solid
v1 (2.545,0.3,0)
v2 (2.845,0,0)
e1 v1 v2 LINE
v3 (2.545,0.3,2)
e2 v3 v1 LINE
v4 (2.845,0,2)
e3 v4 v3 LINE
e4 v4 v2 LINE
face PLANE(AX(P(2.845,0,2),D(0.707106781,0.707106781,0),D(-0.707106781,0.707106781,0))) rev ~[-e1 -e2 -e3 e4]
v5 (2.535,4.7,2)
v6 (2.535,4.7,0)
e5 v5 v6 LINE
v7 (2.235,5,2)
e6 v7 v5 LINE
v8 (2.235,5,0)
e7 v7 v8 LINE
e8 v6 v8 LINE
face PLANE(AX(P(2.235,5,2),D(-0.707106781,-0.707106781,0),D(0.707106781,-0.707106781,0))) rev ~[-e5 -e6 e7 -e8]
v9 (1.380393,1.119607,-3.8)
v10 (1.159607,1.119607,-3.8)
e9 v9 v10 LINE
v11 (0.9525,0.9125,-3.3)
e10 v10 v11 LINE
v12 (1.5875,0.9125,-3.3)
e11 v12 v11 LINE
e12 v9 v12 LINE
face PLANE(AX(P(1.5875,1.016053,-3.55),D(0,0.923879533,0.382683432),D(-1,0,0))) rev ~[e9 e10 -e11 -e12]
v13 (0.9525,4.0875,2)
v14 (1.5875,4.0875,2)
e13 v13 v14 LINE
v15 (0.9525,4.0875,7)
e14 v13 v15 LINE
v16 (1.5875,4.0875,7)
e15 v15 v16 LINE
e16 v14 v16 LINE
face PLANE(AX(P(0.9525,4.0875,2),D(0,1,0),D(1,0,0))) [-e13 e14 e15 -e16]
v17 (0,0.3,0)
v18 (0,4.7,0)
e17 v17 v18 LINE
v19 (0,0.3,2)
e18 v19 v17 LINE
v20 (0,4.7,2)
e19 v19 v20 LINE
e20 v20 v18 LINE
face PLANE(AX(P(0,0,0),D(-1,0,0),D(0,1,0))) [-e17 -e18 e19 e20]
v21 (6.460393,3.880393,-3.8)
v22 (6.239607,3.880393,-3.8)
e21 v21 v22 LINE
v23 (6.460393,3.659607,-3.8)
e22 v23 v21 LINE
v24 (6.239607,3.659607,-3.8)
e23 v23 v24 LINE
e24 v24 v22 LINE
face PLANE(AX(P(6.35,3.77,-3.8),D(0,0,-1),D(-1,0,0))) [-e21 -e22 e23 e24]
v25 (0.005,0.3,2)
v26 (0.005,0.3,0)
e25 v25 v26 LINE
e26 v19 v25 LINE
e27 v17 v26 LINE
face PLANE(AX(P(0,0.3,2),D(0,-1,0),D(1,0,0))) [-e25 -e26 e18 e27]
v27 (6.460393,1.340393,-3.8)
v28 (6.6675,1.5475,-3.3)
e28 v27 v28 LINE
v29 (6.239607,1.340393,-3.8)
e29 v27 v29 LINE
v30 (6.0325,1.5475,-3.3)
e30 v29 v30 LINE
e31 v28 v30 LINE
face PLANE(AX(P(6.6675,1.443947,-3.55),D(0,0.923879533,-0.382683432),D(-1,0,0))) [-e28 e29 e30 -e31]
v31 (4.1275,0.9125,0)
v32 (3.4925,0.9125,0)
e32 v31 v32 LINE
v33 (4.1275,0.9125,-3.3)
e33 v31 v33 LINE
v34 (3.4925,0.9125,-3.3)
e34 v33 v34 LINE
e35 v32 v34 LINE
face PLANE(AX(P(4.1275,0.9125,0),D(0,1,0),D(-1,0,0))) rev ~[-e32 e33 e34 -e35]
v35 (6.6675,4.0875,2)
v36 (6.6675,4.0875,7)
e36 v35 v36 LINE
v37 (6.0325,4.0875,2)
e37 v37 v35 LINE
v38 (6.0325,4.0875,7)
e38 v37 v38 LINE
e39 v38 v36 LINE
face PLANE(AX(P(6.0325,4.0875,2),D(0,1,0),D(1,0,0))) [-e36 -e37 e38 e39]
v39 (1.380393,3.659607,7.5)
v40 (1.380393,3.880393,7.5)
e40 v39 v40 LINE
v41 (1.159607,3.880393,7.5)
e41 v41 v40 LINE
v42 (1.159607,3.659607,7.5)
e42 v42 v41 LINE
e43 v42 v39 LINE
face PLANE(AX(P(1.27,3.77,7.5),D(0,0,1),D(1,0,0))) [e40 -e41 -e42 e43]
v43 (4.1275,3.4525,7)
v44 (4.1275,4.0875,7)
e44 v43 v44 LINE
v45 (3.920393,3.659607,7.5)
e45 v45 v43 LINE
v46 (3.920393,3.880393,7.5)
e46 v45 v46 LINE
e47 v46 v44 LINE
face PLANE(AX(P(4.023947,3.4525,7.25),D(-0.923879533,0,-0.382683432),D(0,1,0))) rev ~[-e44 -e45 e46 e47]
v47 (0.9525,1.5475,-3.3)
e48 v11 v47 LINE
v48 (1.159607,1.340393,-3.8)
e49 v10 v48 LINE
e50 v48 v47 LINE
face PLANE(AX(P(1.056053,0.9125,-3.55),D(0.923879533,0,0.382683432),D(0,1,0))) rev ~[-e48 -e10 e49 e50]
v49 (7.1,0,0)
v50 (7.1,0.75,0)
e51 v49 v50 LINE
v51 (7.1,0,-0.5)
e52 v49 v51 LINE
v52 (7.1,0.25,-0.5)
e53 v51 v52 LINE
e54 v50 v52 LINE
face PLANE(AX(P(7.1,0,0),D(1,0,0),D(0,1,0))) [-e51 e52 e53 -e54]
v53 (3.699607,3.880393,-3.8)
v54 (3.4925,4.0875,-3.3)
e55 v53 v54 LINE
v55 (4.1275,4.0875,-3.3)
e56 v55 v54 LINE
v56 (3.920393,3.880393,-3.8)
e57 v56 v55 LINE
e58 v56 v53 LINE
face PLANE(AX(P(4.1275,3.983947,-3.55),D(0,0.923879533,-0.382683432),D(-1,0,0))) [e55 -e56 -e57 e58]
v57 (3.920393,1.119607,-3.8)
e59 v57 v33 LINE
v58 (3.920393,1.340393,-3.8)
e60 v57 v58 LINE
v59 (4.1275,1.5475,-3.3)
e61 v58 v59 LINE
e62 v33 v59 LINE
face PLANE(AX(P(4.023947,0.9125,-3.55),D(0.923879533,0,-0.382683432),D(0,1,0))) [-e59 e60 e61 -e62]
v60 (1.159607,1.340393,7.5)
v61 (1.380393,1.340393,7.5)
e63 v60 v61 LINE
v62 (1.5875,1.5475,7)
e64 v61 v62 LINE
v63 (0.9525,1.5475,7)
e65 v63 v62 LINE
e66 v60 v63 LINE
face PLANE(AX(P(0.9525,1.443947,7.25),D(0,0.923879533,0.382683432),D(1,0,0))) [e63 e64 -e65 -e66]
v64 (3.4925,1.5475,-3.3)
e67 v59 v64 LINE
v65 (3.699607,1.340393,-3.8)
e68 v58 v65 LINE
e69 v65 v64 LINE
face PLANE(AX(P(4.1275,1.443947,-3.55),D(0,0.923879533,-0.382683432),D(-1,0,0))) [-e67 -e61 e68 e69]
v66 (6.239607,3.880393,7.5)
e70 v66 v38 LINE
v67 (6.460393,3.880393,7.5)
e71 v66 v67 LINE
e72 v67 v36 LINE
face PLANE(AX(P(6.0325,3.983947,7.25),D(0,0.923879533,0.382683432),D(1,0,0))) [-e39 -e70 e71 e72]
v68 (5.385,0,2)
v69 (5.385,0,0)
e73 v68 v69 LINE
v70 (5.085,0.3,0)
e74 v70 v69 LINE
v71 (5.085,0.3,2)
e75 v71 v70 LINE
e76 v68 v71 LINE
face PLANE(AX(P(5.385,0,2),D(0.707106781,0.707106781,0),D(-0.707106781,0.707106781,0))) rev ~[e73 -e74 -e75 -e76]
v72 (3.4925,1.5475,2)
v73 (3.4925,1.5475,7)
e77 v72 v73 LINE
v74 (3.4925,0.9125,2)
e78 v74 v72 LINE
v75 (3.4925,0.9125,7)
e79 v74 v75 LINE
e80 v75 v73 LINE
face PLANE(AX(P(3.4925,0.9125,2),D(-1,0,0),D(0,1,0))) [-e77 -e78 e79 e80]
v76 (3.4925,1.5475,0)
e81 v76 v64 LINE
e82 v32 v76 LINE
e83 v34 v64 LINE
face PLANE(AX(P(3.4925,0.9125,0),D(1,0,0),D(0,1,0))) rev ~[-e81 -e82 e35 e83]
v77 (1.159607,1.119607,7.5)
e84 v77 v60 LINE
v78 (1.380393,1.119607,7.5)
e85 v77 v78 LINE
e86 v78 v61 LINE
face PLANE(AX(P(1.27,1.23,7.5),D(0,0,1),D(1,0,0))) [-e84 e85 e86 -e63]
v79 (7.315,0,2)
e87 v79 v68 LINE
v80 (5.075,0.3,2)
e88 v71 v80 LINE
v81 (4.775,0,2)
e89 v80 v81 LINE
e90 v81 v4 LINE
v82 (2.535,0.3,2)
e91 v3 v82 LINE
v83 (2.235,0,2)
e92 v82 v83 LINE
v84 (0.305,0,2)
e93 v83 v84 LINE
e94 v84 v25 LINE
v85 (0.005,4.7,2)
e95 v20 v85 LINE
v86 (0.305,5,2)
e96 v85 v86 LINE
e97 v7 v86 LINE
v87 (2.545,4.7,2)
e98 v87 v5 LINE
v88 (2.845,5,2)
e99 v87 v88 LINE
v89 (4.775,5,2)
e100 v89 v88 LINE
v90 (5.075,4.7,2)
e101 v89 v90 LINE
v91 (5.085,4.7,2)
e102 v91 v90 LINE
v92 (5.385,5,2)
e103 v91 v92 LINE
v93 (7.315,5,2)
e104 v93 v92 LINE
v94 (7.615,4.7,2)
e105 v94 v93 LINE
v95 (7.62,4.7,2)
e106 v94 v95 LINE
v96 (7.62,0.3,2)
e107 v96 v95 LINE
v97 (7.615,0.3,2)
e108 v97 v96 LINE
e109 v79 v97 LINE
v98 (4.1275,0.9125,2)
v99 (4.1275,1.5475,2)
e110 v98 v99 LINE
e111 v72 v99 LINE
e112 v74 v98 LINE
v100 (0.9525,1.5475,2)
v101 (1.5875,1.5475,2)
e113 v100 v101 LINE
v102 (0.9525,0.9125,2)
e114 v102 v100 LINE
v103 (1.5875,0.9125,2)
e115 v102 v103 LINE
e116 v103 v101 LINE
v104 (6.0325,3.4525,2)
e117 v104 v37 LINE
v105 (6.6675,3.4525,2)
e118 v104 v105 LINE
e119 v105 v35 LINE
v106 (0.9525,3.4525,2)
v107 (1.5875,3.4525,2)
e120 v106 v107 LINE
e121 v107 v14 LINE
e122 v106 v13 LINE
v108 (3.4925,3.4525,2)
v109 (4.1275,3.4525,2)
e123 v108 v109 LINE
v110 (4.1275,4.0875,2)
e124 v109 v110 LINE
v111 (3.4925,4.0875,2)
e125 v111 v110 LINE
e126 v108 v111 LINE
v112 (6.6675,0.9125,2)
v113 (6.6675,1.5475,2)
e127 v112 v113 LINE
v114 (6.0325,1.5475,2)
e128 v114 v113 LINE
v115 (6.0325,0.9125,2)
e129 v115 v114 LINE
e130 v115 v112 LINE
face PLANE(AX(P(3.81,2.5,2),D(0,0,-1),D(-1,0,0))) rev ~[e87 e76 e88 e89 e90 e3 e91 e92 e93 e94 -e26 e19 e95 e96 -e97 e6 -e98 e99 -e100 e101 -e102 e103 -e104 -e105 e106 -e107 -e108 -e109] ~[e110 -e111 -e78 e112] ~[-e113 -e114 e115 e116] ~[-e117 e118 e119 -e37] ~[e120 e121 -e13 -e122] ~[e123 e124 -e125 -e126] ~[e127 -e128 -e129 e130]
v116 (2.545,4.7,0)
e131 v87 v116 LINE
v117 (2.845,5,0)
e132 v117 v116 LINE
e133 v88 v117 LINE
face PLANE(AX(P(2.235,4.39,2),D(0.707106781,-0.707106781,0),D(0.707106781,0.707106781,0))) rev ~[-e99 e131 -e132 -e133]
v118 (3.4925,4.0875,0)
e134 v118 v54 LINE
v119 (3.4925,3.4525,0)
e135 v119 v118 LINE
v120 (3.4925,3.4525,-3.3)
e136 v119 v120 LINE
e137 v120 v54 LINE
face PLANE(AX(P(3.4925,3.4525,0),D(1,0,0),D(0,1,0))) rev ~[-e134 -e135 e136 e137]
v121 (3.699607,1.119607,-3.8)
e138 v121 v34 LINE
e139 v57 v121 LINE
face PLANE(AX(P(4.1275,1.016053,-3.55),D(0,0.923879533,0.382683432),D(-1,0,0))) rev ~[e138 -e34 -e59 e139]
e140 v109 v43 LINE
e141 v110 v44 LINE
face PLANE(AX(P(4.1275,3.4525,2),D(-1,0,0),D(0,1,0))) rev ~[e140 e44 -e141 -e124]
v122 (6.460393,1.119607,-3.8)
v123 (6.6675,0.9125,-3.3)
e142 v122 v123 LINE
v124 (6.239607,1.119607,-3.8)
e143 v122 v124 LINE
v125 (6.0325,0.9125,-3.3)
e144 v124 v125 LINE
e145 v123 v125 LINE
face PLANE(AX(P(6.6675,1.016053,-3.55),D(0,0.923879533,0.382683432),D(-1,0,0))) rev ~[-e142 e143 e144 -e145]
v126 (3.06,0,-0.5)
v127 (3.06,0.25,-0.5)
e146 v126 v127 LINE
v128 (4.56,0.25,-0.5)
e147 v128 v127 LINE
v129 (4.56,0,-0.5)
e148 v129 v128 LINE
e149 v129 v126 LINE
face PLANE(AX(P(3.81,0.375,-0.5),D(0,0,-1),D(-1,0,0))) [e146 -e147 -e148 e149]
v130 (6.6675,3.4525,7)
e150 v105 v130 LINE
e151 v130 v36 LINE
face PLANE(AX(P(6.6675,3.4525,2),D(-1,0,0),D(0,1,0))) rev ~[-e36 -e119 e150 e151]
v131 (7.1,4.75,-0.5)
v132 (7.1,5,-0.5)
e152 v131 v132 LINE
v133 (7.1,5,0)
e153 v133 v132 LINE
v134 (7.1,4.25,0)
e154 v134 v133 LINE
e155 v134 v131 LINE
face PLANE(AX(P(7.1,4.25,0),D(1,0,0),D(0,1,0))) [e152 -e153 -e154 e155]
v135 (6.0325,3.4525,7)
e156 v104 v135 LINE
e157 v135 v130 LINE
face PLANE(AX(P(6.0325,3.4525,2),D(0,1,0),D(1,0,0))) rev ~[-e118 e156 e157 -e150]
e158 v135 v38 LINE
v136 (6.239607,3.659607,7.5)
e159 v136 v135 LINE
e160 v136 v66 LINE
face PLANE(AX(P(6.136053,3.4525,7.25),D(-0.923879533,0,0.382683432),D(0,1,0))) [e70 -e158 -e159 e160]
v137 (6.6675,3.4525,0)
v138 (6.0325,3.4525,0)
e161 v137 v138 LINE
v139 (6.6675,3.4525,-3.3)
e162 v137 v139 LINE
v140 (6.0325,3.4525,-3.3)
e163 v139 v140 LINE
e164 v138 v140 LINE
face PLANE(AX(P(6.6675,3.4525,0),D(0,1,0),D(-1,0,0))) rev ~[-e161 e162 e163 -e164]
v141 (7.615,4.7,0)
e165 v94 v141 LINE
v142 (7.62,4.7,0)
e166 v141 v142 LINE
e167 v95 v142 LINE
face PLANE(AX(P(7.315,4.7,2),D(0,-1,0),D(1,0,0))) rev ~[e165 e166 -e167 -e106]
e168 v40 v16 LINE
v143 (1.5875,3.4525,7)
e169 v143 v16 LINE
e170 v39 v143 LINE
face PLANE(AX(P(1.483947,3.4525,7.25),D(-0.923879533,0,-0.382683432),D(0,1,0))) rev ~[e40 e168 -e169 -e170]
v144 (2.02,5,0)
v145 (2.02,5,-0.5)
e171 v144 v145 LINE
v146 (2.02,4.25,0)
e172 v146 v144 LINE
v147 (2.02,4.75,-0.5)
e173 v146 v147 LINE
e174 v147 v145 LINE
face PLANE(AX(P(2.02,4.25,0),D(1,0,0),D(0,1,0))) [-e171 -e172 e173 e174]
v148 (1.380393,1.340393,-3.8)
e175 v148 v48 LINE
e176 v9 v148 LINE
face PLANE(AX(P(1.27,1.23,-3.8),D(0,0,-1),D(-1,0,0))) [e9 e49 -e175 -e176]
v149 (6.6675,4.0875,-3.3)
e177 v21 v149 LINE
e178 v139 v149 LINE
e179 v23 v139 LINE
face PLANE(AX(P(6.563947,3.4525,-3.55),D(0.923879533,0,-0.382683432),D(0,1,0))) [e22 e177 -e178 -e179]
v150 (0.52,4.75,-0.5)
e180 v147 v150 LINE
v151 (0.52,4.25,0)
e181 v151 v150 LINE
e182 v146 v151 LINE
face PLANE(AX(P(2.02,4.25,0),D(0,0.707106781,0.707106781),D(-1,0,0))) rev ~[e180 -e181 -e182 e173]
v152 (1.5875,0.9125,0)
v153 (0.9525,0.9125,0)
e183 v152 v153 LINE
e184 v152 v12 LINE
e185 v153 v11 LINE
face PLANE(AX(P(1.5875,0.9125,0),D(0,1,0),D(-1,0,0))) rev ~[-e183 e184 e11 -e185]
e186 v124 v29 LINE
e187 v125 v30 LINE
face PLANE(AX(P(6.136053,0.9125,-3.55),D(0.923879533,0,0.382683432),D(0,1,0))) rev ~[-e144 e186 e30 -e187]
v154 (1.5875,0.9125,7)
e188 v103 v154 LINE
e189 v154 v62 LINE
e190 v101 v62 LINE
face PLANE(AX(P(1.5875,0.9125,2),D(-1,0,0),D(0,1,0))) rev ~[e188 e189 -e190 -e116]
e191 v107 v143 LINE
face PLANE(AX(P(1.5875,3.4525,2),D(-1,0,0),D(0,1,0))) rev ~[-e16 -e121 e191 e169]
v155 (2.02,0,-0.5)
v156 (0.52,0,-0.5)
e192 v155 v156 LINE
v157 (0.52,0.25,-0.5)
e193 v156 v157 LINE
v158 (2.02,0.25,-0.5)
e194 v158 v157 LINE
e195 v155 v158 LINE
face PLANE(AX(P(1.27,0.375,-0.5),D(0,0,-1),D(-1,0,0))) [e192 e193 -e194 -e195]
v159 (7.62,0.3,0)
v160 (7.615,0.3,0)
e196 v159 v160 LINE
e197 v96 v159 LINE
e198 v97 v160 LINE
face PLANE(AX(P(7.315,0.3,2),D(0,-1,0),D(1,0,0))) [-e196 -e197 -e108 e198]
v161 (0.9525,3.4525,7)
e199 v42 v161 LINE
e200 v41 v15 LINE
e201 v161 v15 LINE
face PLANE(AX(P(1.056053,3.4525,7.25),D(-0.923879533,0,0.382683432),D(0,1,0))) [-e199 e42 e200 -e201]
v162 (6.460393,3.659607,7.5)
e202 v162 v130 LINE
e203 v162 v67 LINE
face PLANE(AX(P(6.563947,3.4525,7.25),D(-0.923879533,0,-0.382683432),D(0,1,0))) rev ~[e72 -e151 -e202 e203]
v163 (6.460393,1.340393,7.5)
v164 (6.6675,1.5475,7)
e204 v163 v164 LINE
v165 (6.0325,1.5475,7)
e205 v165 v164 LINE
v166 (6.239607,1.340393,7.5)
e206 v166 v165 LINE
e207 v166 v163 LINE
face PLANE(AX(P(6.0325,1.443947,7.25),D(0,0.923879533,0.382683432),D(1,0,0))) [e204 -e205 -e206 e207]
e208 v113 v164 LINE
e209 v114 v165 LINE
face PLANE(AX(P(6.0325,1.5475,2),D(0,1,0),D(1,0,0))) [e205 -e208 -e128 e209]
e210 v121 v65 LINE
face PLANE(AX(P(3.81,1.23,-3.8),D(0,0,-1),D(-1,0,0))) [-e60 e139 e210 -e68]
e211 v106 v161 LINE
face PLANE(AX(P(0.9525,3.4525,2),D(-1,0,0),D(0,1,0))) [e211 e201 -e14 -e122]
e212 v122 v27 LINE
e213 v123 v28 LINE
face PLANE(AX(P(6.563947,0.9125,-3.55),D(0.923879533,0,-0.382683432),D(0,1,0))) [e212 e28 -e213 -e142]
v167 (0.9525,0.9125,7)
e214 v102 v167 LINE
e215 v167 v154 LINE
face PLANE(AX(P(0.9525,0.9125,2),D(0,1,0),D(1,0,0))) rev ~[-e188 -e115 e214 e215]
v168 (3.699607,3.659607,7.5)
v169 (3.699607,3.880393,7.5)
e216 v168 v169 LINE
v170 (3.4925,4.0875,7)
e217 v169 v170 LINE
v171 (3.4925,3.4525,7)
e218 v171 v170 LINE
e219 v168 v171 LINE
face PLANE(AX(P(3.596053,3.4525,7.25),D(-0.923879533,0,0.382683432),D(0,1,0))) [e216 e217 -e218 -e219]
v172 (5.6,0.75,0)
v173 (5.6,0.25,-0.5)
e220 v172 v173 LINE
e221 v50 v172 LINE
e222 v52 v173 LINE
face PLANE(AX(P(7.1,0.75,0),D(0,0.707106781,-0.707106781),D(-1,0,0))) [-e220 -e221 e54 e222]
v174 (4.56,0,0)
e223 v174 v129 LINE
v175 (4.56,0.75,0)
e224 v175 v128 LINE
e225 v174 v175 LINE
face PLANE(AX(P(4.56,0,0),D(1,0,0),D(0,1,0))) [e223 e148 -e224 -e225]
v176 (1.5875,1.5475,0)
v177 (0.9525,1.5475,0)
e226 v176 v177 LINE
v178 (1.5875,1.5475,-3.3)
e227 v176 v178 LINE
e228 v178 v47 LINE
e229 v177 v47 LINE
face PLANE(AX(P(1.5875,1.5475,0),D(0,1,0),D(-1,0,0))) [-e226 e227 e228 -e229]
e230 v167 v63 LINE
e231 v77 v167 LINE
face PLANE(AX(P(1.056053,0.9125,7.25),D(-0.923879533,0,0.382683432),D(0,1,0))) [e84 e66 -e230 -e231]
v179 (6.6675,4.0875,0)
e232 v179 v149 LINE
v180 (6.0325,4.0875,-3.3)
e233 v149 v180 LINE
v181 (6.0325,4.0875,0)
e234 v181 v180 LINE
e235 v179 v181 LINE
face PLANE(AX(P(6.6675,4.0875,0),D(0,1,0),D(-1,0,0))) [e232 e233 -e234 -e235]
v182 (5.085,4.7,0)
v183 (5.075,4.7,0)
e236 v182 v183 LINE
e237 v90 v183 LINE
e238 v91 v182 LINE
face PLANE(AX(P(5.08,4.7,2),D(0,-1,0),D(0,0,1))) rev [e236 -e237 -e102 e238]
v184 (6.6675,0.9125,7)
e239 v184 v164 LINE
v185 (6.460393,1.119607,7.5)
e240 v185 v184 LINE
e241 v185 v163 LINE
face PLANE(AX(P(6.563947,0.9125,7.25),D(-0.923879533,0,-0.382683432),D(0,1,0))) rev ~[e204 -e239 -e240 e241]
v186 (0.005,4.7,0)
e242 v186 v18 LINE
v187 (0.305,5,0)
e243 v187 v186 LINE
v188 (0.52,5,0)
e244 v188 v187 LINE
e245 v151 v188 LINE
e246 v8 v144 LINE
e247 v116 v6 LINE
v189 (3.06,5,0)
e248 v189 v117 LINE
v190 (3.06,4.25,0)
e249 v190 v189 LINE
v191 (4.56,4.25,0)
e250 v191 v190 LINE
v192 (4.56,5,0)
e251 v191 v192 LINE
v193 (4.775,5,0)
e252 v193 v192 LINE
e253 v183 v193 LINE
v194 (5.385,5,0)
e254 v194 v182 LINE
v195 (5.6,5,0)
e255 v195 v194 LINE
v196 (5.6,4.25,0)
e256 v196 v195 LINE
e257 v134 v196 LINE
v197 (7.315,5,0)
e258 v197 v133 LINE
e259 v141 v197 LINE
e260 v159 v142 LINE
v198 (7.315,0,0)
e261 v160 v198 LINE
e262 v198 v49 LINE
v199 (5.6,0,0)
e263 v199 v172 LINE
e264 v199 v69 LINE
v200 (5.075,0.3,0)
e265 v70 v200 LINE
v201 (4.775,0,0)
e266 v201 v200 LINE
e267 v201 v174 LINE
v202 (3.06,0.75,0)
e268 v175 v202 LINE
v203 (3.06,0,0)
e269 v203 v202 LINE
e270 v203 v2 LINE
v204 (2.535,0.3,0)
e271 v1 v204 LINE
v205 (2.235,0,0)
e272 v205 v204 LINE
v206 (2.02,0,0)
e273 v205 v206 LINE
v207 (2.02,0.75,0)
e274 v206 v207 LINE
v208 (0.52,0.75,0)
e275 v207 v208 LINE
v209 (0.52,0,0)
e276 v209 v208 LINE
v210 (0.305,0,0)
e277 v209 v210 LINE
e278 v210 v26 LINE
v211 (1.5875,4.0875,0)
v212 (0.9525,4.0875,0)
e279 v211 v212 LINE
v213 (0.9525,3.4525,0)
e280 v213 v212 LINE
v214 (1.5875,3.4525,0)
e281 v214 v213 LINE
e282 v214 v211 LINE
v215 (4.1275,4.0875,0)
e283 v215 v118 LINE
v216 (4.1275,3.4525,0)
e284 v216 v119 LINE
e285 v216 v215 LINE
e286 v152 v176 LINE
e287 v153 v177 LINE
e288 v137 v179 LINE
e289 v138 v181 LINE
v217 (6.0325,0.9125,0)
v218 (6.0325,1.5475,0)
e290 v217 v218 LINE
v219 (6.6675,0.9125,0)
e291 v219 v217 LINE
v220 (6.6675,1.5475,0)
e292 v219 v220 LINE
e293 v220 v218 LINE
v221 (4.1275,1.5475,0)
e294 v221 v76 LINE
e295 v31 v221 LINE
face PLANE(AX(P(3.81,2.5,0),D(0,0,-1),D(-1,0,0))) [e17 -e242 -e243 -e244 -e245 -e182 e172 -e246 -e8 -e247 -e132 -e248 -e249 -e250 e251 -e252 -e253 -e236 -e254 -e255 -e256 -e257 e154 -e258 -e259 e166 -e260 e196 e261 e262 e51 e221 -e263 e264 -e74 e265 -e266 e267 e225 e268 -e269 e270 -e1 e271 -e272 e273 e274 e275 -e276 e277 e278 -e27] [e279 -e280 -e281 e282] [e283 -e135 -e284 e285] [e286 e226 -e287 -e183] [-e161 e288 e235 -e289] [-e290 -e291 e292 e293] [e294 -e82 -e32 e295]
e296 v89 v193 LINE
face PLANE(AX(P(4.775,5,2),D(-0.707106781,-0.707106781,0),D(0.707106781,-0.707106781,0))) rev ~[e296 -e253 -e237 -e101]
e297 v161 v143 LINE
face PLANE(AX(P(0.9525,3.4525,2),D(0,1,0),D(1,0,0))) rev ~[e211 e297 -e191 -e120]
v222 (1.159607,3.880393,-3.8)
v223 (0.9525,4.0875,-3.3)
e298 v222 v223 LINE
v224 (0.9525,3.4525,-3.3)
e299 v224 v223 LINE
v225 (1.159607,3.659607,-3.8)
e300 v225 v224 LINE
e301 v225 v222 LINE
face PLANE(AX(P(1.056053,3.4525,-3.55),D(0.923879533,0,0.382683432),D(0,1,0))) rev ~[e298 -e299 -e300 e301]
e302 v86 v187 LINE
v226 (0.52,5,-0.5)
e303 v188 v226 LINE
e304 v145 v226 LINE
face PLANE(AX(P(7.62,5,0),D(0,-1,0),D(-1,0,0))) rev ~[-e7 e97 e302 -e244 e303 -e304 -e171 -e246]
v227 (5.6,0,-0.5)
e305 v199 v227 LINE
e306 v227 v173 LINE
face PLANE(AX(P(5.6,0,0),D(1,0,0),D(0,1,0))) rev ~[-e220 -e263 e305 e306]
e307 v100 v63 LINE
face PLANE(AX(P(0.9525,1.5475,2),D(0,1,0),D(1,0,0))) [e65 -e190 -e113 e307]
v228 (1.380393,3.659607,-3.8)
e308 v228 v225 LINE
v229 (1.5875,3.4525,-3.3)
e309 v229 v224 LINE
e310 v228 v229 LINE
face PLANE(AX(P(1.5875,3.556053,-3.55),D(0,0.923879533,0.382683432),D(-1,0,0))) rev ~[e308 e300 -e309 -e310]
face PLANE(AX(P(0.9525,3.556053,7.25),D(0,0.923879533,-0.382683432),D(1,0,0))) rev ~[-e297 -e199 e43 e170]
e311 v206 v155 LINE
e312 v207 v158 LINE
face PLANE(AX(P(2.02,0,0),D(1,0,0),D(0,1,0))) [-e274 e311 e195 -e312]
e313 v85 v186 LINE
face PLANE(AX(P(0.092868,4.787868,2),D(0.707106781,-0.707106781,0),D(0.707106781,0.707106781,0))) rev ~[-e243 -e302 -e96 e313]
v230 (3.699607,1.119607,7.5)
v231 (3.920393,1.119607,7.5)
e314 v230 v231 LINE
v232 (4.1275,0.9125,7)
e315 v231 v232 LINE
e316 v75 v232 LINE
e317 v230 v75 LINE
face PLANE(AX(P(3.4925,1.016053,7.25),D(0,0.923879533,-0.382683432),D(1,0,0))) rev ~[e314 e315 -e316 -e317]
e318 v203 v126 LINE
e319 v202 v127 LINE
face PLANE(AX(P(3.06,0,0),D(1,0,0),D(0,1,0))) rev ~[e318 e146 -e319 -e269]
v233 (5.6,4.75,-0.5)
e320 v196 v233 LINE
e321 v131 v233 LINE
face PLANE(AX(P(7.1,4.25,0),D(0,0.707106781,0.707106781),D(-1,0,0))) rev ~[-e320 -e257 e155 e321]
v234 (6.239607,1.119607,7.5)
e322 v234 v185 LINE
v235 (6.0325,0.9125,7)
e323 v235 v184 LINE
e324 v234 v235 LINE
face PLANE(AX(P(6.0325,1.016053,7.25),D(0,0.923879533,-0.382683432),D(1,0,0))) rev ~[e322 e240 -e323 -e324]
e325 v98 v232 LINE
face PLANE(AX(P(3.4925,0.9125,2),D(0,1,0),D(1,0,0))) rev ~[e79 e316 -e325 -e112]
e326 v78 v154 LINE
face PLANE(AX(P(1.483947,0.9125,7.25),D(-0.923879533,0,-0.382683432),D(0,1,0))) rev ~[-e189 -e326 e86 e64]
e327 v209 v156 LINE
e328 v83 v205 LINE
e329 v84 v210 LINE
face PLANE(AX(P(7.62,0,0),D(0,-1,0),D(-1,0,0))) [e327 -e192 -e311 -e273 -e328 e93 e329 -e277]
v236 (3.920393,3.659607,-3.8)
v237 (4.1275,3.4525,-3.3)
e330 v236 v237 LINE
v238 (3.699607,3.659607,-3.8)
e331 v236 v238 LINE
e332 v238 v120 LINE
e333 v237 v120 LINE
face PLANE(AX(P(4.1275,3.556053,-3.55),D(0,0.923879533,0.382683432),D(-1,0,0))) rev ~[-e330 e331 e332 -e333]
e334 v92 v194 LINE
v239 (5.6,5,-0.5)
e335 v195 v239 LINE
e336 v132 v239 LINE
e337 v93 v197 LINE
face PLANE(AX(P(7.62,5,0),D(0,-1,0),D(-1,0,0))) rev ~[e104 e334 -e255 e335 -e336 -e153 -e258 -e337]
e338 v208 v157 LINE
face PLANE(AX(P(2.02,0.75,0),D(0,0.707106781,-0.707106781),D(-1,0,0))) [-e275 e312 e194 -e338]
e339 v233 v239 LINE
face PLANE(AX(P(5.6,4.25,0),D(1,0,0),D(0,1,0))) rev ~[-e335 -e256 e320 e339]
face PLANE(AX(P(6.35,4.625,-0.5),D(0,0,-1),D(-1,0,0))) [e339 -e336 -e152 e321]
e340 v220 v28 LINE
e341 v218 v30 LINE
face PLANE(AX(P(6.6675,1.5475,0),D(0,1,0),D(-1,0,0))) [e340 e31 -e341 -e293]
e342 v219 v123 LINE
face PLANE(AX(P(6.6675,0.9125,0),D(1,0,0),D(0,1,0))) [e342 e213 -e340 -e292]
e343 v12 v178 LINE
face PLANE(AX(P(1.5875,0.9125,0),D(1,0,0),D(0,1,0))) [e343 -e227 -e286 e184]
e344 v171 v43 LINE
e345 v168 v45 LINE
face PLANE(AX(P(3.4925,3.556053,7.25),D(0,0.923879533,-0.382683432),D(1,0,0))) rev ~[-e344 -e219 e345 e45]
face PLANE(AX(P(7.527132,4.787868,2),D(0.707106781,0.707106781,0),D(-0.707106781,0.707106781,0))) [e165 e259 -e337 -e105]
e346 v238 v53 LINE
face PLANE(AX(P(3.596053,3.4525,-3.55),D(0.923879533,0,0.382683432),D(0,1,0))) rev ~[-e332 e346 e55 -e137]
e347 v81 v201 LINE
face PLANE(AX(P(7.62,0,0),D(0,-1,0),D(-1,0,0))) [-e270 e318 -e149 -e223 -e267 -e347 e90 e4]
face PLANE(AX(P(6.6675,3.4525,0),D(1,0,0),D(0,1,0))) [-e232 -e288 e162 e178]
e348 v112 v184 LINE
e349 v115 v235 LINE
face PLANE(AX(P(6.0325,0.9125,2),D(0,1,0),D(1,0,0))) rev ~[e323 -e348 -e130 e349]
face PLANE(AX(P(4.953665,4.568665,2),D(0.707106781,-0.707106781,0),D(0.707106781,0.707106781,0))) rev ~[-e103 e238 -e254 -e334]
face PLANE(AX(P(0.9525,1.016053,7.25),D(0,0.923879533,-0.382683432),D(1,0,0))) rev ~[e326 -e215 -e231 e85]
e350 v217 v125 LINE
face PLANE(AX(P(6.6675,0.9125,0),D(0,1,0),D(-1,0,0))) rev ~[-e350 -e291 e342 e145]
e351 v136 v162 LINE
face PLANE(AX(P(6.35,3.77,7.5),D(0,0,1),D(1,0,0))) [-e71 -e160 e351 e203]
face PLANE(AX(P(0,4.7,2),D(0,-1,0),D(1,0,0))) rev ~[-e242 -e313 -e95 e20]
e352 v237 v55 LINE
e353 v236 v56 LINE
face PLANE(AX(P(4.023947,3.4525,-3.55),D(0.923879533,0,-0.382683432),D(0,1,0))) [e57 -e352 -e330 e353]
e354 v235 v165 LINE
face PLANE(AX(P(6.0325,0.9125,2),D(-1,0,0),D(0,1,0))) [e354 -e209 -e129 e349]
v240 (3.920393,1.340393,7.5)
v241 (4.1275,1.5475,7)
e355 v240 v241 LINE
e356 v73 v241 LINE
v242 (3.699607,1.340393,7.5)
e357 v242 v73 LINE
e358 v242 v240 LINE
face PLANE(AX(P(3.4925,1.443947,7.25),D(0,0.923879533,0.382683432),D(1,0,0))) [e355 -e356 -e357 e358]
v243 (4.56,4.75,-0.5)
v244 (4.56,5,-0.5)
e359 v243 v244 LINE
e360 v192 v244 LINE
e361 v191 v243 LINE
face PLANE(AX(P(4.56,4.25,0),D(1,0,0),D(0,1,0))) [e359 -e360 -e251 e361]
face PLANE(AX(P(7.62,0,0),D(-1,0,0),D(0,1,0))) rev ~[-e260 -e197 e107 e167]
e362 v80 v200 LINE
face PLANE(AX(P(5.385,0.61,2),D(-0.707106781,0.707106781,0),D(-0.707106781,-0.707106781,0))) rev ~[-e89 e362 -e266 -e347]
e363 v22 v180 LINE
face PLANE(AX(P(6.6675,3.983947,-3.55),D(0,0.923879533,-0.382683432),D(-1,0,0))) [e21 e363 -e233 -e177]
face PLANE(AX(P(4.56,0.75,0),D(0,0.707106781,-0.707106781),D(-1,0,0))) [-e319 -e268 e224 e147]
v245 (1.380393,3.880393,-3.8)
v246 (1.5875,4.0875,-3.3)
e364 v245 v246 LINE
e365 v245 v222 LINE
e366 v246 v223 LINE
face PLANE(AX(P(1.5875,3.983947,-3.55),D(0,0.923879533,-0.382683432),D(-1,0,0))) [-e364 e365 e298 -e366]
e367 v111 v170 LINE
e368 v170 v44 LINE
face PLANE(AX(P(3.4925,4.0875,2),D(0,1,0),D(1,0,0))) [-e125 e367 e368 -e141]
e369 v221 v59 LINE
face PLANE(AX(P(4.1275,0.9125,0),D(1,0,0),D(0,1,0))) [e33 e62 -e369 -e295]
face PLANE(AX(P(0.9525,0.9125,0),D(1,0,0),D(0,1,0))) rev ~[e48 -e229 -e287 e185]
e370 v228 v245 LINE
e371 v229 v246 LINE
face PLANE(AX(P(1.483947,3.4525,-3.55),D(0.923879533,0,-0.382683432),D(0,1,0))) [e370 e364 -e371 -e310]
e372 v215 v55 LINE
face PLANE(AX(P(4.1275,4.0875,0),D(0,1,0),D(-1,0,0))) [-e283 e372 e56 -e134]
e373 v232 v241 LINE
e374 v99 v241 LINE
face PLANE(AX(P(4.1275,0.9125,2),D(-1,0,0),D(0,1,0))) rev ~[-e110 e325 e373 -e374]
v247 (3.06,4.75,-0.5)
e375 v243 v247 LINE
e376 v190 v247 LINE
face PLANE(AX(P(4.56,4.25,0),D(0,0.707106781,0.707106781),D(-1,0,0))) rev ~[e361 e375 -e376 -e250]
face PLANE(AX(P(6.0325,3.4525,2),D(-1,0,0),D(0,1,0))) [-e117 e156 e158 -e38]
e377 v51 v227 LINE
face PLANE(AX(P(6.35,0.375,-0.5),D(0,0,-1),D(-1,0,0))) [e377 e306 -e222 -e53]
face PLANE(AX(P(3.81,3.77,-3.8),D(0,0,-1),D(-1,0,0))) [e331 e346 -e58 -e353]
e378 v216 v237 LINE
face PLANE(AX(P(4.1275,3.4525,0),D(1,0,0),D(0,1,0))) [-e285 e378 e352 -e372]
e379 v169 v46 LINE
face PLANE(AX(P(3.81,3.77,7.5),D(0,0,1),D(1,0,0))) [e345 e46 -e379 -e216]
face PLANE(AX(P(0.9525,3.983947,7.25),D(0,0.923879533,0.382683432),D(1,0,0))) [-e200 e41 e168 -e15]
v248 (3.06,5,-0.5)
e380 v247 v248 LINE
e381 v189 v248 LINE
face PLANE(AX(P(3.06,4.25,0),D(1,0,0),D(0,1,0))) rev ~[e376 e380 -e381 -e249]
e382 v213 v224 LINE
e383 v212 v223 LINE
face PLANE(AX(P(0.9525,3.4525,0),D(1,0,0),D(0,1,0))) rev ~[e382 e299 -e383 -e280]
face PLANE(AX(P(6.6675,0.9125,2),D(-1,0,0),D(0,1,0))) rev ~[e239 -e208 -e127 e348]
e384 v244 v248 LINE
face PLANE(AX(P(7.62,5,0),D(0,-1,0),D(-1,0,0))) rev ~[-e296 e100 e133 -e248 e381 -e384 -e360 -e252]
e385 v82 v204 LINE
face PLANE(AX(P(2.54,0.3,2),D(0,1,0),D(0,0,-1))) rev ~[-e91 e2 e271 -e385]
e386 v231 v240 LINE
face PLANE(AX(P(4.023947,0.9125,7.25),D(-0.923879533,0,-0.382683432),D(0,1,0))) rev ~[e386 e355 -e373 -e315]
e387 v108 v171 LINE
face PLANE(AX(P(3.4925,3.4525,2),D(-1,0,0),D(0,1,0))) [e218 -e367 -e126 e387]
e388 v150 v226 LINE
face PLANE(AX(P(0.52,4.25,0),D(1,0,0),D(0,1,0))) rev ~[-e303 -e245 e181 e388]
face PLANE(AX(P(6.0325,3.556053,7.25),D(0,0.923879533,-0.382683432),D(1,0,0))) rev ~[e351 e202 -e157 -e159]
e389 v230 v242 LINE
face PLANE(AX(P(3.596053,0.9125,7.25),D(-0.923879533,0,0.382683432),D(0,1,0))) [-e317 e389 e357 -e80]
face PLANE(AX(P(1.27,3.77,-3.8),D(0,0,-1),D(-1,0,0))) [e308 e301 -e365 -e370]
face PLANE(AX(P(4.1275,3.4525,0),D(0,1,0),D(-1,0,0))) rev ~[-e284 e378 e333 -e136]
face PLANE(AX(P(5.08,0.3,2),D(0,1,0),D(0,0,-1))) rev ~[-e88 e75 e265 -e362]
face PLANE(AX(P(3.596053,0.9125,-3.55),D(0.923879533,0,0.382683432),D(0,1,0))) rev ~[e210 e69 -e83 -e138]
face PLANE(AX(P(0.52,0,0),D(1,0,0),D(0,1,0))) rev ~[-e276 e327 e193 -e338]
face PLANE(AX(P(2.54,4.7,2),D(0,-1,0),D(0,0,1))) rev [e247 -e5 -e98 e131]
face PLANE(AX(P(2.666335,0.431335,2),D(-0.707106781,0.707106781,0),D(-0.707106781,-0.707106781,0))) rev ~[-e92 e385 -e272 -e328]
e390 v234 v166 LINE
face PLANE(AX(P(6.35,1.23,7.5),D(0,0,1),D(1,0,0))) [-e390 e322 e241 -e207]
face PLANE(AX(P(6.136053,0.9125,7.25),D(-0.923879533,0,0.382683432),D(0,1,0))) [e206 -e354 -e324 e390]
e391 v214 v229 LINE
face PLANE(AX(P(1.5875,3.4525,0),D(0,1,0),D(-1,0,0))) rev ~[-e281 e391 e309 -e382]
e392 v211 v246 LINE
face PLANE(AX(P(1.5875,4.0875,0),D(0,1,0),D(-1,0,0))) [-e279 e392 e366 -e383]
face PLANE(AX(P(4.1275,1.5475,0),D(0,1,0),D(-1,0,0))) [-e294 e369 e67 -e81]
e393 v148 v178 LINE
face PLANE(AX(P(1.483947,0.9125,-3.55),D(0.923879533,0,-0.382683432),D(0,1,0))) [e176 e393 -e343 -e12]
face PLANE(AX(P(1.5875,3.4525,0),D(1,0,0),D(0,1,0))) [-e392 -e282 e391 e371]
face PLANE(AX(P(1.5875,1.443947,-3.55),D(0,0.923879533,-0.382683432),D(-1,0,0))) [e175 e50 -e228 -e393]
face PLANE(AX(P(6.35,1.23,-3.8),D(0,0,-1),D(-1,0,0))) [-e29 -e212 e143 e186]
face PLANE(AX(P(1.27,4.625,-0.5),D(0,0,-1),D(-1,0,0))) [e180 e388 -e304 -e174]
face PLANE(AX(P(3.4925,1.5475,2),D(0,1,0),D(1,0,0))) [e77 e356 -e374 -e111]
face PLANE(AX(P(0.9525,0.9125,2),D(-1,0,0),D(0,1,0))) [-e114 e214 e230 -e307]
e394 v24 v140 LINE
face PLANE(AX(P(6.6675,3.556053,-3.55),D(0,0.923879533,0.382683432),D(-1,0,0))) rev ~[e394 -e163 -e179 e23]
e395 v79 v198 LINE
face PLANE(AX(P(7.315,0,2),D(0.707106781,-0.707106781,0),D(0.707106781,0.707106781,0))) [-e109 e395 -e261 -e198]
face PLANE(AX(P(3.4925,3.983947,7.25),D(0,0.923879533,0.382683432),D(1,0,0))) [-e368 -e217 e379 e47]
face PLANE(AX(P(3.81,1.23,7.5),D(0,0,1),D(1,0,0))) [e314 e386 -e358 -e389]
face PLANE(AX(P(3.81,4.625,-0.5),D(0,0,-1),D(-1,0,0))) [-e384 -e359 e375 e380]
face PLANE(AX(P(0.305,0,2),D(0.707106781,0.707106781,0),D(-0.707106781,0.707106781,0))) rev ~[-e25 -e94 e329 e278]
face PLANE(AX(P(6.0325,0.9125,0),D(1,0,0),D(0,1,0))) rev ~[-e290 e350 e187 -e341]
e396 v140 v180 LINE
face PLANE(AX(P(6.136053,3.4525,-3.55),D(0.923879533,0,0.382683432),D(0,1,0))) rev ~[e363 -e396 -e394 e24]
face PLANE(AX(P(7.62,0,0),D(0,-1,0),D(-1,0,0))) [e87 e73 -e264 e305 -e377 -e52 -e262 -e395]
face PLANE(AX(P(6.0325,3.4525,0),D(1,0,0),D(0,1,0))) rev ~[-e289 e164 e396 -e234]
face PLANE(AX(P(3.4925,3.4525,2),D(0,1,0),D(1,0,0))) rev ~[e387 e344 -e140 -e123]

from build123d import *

# Parameters (mm, degrees)
SKETCH1_W              = 7.62
SKETCH1_H              = 5
BOSS_EXTRUDE1_DEPTH    = 2
SKETCH2_W              = 0.305
SKETCH2_H              = 0.3
CUT_EXTRUDE1_DEPTH     = 3
CUT_EXTRUDE2_DEPTH     = 3
CUT_EXTRUDE3_DEPTH     = 3
SKETCH5_W              = 0.305
SKETCH5_H              = 0.3
CUT_EXTRUDE4_DEPTH     = 2
SKETCH6_W              = 0.305
SKETCH6_H              = 0.3
CUT_EXTRUDE5_DEPTH     = 3
CUT_EXTRUDE6_DEPTH     = 3
CUT_EXTRUDE7_DEPTH     = 3
SKETCH9_W              = 0.305
SKETCH9_H              = 0.3
CUT_EXTRUDE8_DEPTH     = 2
SKETCH10_W             = 0.635
SKETCH10_H             = 0.635
BOSS_EXTRUDE2_DEPTH    = 3.8
SKETCH11_W             = 0.635
SKETCH11_H             = 0.635
BOSS_EXTRUDE3_DEPTH    = 3.8
SKETCH12_W             = 0.635
SKETCH12_H             = 0.635
BOSS_EXTRUDE4_DEPTH    = 3.8
SKETCH13_W             = 0.635
SKETCH13_H             = 0.635
BOSS_EXTRUDE5_DEPTH    = 3.8
SKETCH14_W             = 0.635
SKETCH14_H             = 0.635
BOSS_EXTRUDE6_DEPTH    = 3.8
SKETCH15_W             = 1.5
SKETCH15_H             = 0.75
BOSS_EXTRUDE7_DEPTH    = 0.5
SKETCH16_W             = 1.5
SKETCH16_H             = 0.75
BOSS_EXTRUDE8_DEPTH    = 0.5
SKETCH17_W             = 1.5
SKETCH17_H             = 0.75
BOSS_EXTRUDE9_DEPTH    = 0.5
SKETCH18_W             = 1.5
SKETCH18_H             = 0.75
BOSS_EXTRUDE10_DEPTH   = 0.5
SKETCH19_W             = 1.5
SKETCH19_H             = 0.75
BOSS_EXTRUDE11_DEPTH   = 0.5
SKETCH20_W             = 1.5
SKETCH20_H             = 0.75
BOSS_EXTRUDE12_DEPTH   = 0.5
SKETCH21_W             = 0.635
SKETCH21_H             = 0.635
BOSS_EXTRUDE13_DEPTH   = 3.8
SKETCH22_W             = 0.635
SKETCH22_H             = 0.635
BOSS_EXTRUDE14_DEPTH   = 5.5
SKETCH23_W             = 0.635
SKETCH23_H             = 0.635
BOSS_EXTRUDE15_DEPTH   = 5.5
SKETCH24_W             = 0.635
SKETCH24_H             = 0.635
BOSS_EXTRUDE16_DEPTH   = 5.5
SKETCH25_W             = 0.635
SKETCH25_H             = 0.635
BOSS_EXTRUDE17_DEPTH   = 5.5
SKETCH26_W             = 0.635
SKETCH26_H             = 0.635
BOSS_EXTRUDE18_DEPTH   = 5.5
SKETCH27_W             = 0.635
SKETCH27_H             = 0.635
BOSS_EXTRUDE19_DEPTH   = 5.5
DRAFT1_ANGLE           = 45
DRAFT2_ANGLE           = 45
DRAFT3_ANGLE           = 45
DRAFT4_ANGLE           = 45
DRAFT5_ANGLE           = 45
CHAMFER1_SIZE          = 0.007071068
CHAMFER2_SIZE          = 0.207106781
CHAMFER2_SIZE2         = 0.5
CHAMFER2_PART_2_SIZE   = 0.207106781
CHAMFER2_PART_2_SIZE2  = 0.5
CHAMFER2_PART_3_SIZE   = 0.207106781
CHAMFER2_PART_3_SIZE2  = 0.5
CHAMFER2_PART_4_SIZE   = 0.207106781
CHAMFER2_PART_4_SIZE2  = 0.5
CHAMFER2_PART_5_SIZE   = 0.207106781
CHAMFER2_PART_5_SIZE2  = 0.5
CHAMFER2_PART_6_SIZE   = 0.207106781
CHAMFER2_PART_6_SIZE2  = 0.5
CHAMFER2_PART_7_SIZE   = 0.207106781
CHAMFER2_PART_7_SIZE2  = 0.5
CHAMFER2_PART_8_SIZE   = 0.207106781
CHAMFER2_PART_8_SIZE2  = 0.5
CHAMFER2_PART_9_SIZE   = 0.207106781
CHAMFER2_PART_9_SIZE2  = 0.5
CHAMFER2_PART_10_SIZE  = 0.207106781
CHAMFER2_PART_10_SIZE2 = 0.5
CHAMFER2_PART_11_SIZE  = 0.207106781
CHAMFER2_PART_11_SIZE2 = 0.5
CHAMFER2_PART_12_SIZE  = 0.207106781
CHAMFER2_PART_12_SIZE2 = 0.5


with BuildPart() as part:
    # Sketch1 → Boss-Extrude1 (new body)
    with BuildSketch(Plane(origin=(0, 0, 0), x_dir=(-1, 0, 0), z_dir=(0, 0, -1))):
        with Locations((-3.81, 2.5)):
            Rectangle(SKETCH1_W, SKETCH1_H)
    extrude(amount=-BOSS_EXTRUDE1_DEPTH)

    # Sketch2 → Cut-Extrude1 (cut, through all)
    with BuildSketch(Plane.XY.offset(2)):
        with Locations((7.4675, 0.15)):
            Rectangle(SKETCH2_W, SKETCH2_H)
    extrude(amount=-CUT_EXTRUDE1_DEPTH, mode=Mode.SUBTRACT)

    # Sketch3 → Cut-Extrude2 (cut, through all)
    with BuildSketch(Plane.XY.offset(2)):
        Polygon((4.775, 0), (5.385, 0), (5.385, 0.61), align=None)
    extrude(amount=-CUT_EXTRUDE2_DEPTH, mode=Mode.SUBTRACT)

    # Sketch4 → Cut-Extrude3 (cut, through all)
    with BuildSketch(Plane.XY.offset(2)):
        Polygon((2.235, 0), (2.845, 0), (2.235, 0.61), align=None)
    extrude(amount=-CUT_EXTRUDE3_DEPTH, mode=Mode.SUBTRACT)

    # Sketch5 → Cut-Extrude4 (cut)
    with BuildSketch(Plane.XY.offset(2)):
        with Locations((0.1525, 0.15)):
            Rectangle(SKETCH5_W, SKETCH5_H)
    extrude(amount=-CUT_EXTRUDE4_DEPTH, mode=Mode.SUBTRACT)

    # Sketch6 → Cut-Extrude5 (cut, through all)
    with BuildSketch(Plane.XY.offset(2)):
        with Locations((0.1525, 4.85)):
            Rectangle(SKETCH6_W, SKETCH6_H)
    extrude(amount=-CUT_EXTRUDE5_DEPTH, mode=Mode.SUBTRACT)

    # Sketch7 → Cut-Extrude6 (cut, through all)
    with BuildSketch(Plane.XY.offset(2)):
        Polygon((2.845, 5), (2.235, 5), (2.235, 4.39), align=None)
    extrude(amount=-CUT_EXTRUDE6_DEPTH, mode=Mode.SUBTRACT)

    # Sketch8 → Cut-Extrude7 (cut, through all)
    with BuildSketch(Plane.XY.offset(2)):
        Polygon((5.385, 5), (4.775, 5), (5.385, 4.39), align=None)
    extrude(amount=-CUT_EXTRUDE7_DEPTH, mode=Mode.SUBTRACT)

    # Sketch9 → Cut-Extrude8 (cut)
    with BuildSketch(Plane.XY.offset(2)):
        with Locations((7.4675, 4.85)):
            Rectangle(SKETCH9_W, SKETCH9_H)
    extrude(amount=-CUT_EXTRUDE8_DEPTH, mode=Mode.SUBTRACT)

    # Sketch10 → Boss-Extrude2 (add)
    with BuildSketch(Plane(origin=(0, 0, 0), x_dir=(-1, 0, 0), z_dir=(0, 0, -1))):
        with Locations((-6.35, 3.77)):
            Rectangle(SKETCH10_W, SKETCH10_H)
    extrude(amount=BOSS_EXTRUDE2_DEPTH)

    # Sketch11 → Boss-Extrude3 (add)
    with BuildSketch(Plane(origin=(0, 0, 0), x_dir=(-1, 0, 0), z_dir=(0, 0, -1))):
        with Locations((-6.35, 1.23)):
            Rectangle(SKETCH11_W, SKETCH11_H)
    extrude(amount=BOSS_EXTRUDE3_DEPTH)

    # Sketch12 → Boss-Extrude4 (add)
    with BuildSketch(Plane(origin=(0, 0, 0), x_dir=(-1, 0, 0), z_dir=(0, 0, -1))):
        with Locations((-3.81, 3.77)):
            Rectangle(SKETCH12_W, SKETCH12_H)
    extrude(amount=BOSS_EXTRUDE4_DEPTH)

    # Sketch13 → Boss-Extrude5 (add)
    with BuildSketch(Plane(origin=(0, 0, 0), x_dir=(-1, 0, 0), z_dir=(0, 0, -1))):
        with Locations((-3.81, 1.23)):
            Rectangle(SKETCH13_W, SKETCH13_H)
    extrude(amount=BOSS_EXTRUDE5_DEPTH)

    # Sketch14 → Boss-Extrude6 (add)
    with BuildSketch(Plane(origin=(0, 0, 0), x_dir=(-1, 0, 0), z_dir=(0, 0, -1))):
        with Locations((-1.27, 3.77)):
            Rectangle(SKETCH14_W, SKETCH14_H)
    extrude(amount=BOSS_EXTRUDE6_DEPTH)

    # Sketch15 → Boss-Extrude7 (add)
    with BuildSketch(Plane(origin=(0, 0, 0), x_dir=(-1, 0, 0), z_dir=(0, 0, -1))):
        with Locations((-6.35, 0.375)):
            Rectangle(SKETCH15_W, SKETCH15_H)
    extrude(amount=BOSS_EXTRUDE7_DEPTH)

    # Sketch16 → Boss-Extrude8 (add)
    with BuildSketch(Plane(origin=(0, 0, 0), x_dir=(-1, 0, 0), z_dir=(0, 0, -1))):
        with Locations((-3.81, 0.375)):
            Rectangle(SKETCH16_W, SKETCH16_H)
    extrude(amount=BOSS_EXTRUDE8_DEPTH)

    # Sketch17 → Boss-Extrude9 (add)
    with BuildSketch(Plane(origin=(0, 0, 0), x_dir=(-1, 0, 0), z_dir=(0, 0, -1))):
        with Locations((-1.27, 0.375)):
            Rectangle(SKETCH17_W, SKETCH17_H)
    extrude(amount=BOSS_EXTRUDE9_DEPTH)

    # Sketch18 → Boss-Extrude10 (add)
    with BuildSketch(Plane(origin=(0, 0, 0), x_dir=(-1, 0, 0), z_dir=(0, 0, -1))):
        with Locations((-1.27, 4.625)):
            Rectangle(SKETCH18_W, SKETCH18_H)
    extrude(amount=BOSS_EXTRUDE10_DEPTH)

    # Sketch19 → Boss-Extrude11 (add)
    with BuildSketch(Plane(origin=(0, 0, 0), x_dir=(-1, 0, 0), z_dir=(0, 0, -1))):
        with Locations((-3.81, 4.625)):
            Rectangle(SKETCH19_W, SKETCH19_H)
    extrude(amount=BOSS_EXTRUDE11_DEPTH)

    # Sketch20 → Boss-Extrude12 (add)
    with BuildSketch(Plane(origin=(0, 0, 0), x_dir=(-1, 0, 0), z_dir=(0, 0, -1))):
        with Locations((-6.35, 4.625)):
            Rectangle(SKETCH20_W, SKETCH20_H)
    extrude(amount=BOSS_EXTRUDE12_DEPTH)

    # Sketch21 → Boss-Extrude13 (add)
    with BuildSketch(Plane(origin=(0, 0, 0), x_dir=(-1, 0, 0), z_dir=(0, 0, -1))):
        with Locations((-1.27, 1.23)):
            Rectangle(SKETCH21_W, SKETCH21_H)
    extrude(amount=BOSS_EXTRUDE13_DEPTH)

    # Sketch22 → Boss-Extrude14 (add)
    with BuildSketch(Plane.XY.offset(2)):
        with Locations((6.35, 3.77)):
            Rectangle(SKETCH22_W, SKETCH22_H)
    extrude(amount=BOSS_EXTRUDE14_DEPTH)

    # Sketch23 → Boss-Extrude15 (add)
    with BuildSketch(Plane.XY.offset(2)):
        with Locations((6.35, 1.23)):
            Rectangle(SKETCH23_W, SKETCH23_H)
    extrude(amount=BOSS_EXTRUDE15_DEPTH)

    # Sketch24 → Boss-Extrude16 (add)
    with BuildSketch(Plane.XY.offset(2)):
        with Locations((3.81, 3.77)):
            Rectangle(SKETCH24_W, SKETCH24_H)
    extrude(amount=BOSS_EXTRUDE16_DEPTH)

    # Sketch25 → Boss-Extrude17 (add)
    with BuildSketch(Plane.XY.offset(2)):
        with Locations((3.81, 1.23)):
            Rectangle(SKETCH25_W, SKETCH25_H)
    extrude(amount=BOSS_EXTRUDE17_DEPTH)

    # Sketch26 → Boss-Extrude18 (add)
    with BuildSketch(Plane.XY.offset(2)):
        with Locations((1.27, 3.77)):
            Rectangle(SKETCH26_W, SKETCH26_H)
    extrude(amount=BOSS_EXTRUDE18_DEPTH)

    # Sketch27 → Boss-Extrude19 (add)
    with BuildSketch(Plane.XY.offset(2)):
        with Locations((1.27, 1.23)):
            Rectangle(SKETCH27_W, SKETCH27_H)
    extrude(amount=BOSS_EXTRUDE19_DEPTH)

    # Draft1
    draft1_faces = [part.faces().sort_by_distance(p)[0] for p in [
        (5.385, 0.305, 1),
        (7.315, 0.15, 1),
    ]]
    draft(draft1_faces, Plane(origin=(7.62, 0, 2), x_dir=(0, 0, -1), z_dir=(0, -1, 0)), DRAFT1_ANGLE)

    # Draft2
    draft2_faces = [part.faces().sort_by_distance(p)[0] for p in [
        (0.305, 0.15, 1),
        (2.235, 0.305, 1),
    ]]
    draft(draft2_faces, Plane(origin=(7.62, 0, 2), x_dir=(0, 0, -1), z_dir=(0, -1, 0)), DRAFT2_ANGLE)

    # Draft3
    draft3_faces = [part.faces().sort_by_distance(p)[0] for p in [
        (2.235, 4.695, 1),
        (0.305, 4.85, 1),
    ]]
    draft(draft3_faces, Plane(origin=(0, 5, 2), x_dir=(0, 0, 1), z_dir=(0, 1, 0)), DRAFT3_ANGLE)

    # Draft4
    draft4_faces = [part.faces().sort_by_distance(p)[0] for p in [
        (7.315, 4.85, 1),
        (5.385, 4.695, 1),
    ]]
    draft(draft4_faces, Plane(origin=(0, 5, 2), x_dir=(0, 0, 1), z_dir=(0, 1, 0)), DRAFT4_ANGLE)

    # Draft5
    draft5_faces = [part.faces().sort_by_distance(p)[0] for p in [
        (6.35, 0.75, -0.25),
        (3.81, 0.75, -0.25),
        (1.27, 0.75, -0.25),
        (1.27, 4.25, -0.25),
        (3.81, 4.25, -0.25),
        (6.35, 4.25, -0.25),
    ]]
    draft(draft5_faces, Plane(origin=(0, 0, 0), x_dir=(-1, 0, 0), z_dir=(0, 0, -1)), DRAFT5_ANGLE)

    # Chamfer1
    chamfer1_edges = [part.edges().sort_by_distance(p)[0] for p in [
        (5.08, 4.695, 1),
        (5.08, 0.305, 1),
        (2.54, 0.305, 1),
        (2.54, 4.695, 1),
    ]]
    chamfer(chamfer1_edges, length=CHAMFER1_SIZE)

    # Chamfer2
    chamfer2_edges = [part.edges().sort_by_distance(p)[0] for p in [
        (6.6675, 3.77, -3.8),
        (6.35, 3.4525, -3.8),
        (6.0325, 3.77, -3.8),
        (6.35, 4.0875, -3.8),
    ]]
    chamfer2_side = [part.faces().sort_by_distance(p)[0] for p in [
        (6.35, 3.77, -3.8),
    ]]
    chamfer(chamfer2_edges, length=CHAMFER2_SIZE, length2=CHAMFER2_SIZE2, reference=chamfer2_side[0])

    # Chamfer2 part 2
    chamfer2_part_2_edges = [part.edges().sort_by_distance(p)[0] for p in [
        (6.35, 0.9125, -3.8),
        (6.0325, 1.23, -3.8),
        (6.35, 1.5475, -3.8),
        (6.6675, 1.23, -3.8),
    ]]
    chamfer2_part_2_side = [part.faces().sort_by_distance(p)[0] for p in [
        (6.35, 1.23, -3.8),
    ]]
    chamfer(chamfer2_part_2_edges, length=CHAMFER2_PART_2_SIZE, length2=CHAMFER2_PART_2_SIZE2, reference=chamfer2_part_2_side[0])

    # Chamfer2 part 3
    chamfer2_part_3_edges = [part.edges().sort_by_distance(p)[0] for p in [
        (3.81, 3.4525, -3.8),
        (3.4925, 3.77, -3.8),
        (3.81, 4.0875, -3.8),
        (4.1275, 3.77, -3.8),
    ]]
    chamfer2_part_3_side = [part.faces().sort_by_distance(p)[0] for p in [
        (3.81, 3.77, -3.8),
    ]]
    chamfer(chamfer2_part_3_edges, length=CHAMFER2_PART_3_SIZE, length2=CHAMFER2_PART_3_SIZE2, reference=chamfer2_part_3_side[0])

    # Chamfer2 part 4
    chamfer2_part_4_edges = [part.edges().sort_by_distance(p)[0] for p in [
        (3.81, 0.9125, -3.8),
        (3.4925, 1.23, -3.8),
        (3.81, 1.5475, -3.8),
        (4.1275, 1.23, -3.8),
    ]]
    chamfer2_part_4_side = [part.faces().sort_by_distance(p)[0] for p in [
        (3.81, 1.23, -3.8),
    ]]
    chamfer(chamfer2_part_4_edges, length=CHAMFER2_PART_4_SIZE, length2=CHAMFER2_PART_4_SIZE2, reference=chamfer2_part_4_side[0])

    # Chamfer2 part 5
    chamfer2_part_5_edges = [part.edges().sort_by_distance(p)[0] for p in [
        (1.27, 4.0875, -3.8),
        (1.5875, 3.77, -3.8),
        (1.27, 3.4525, -3.8),
        (0.9525, 3.77, -3.8),
    ]]
    chamfer2_part_5_side = [part.faces().sort_by_distance(p)[0] for p in [
        (1.27, 3.77, -3.8),
    ]]
    chamfer(chamfer2_part_5_edges, length=CHAMFER2_PART_5_SIZE, length2=CHAMFER2_PART_5_SIZE2, reference=chamfer2_part_5_side[0])

    # Chamfer2 part 6
    chamfer2_part_6_edges = [part.edges().sort_by_distance(p)[0] for p in [
        (1.27, 0.9125, -3.8),
        (0.9525, 1.23, -3.8),
        (1.27, 1.5475, -3.8),
        (1.5875, 1.23, -3.8),
    ]]
    chamfer2_part_6_side = [part.faces().sort_by_distance(p)[0] for p in [
        (1.27, 1.23, -3.8),
    ]]
    chamfer(chamfer2_part_6_edges, length=CHAMFER2_PART_6_SIZE, length2=CHAMFER2_PART_6_SIZE2, reference=chamfer2_part_6_side[0])

    # Chamfer2 part 7
    chamfer2_part_7_edges = [part.edges().sort_by_distance(p)[0] for p in [
        (6.0325, 3.77, 7.5),
        (6.35, 3.4525, 7.5),
        (6.6675, 3.77, 7.5),
        (6.35, 4.0875, 7.5),
    ]]
    chamfer2_part_7_side = [part.faces().sort_by_distance(p)[0] for p in [
        (6.35, 3.77, 7.5),
    ]]
    chamfer(chamfer2_part_7_edges, length=CHAMFER2_PART_7_SIZE, length2=CHAMFER2_PART_7_SIZE2, reference=chamfer2_part_7_side[0])

    # Chamfer2 part 8
    chamfer2_part_8_edges = [part.edges().sort_by_distance(p)[0] for p in [
        (6.35, 0.9125, 7.5),
        (6.6675, 1.23, 7.5),
        (6.35, 1.5475, 7.5),
        (6.0325, 1.23, 7.5),
    ]]
    chamfer2_part_8_side = [part.faces().sort_by_distance(p)[0] for p in [
        (6.35, 1.23, 7.5),
    ]]
    chamfer(chamfer2_part_8_edges, length=CHAMFER2_PART_8_SIZE, length2=CHAMFER2_PART_8_SIZE2, reference=chamfer2_part_8_side[0])

    # Chamfer2 part 9
    chamfer2_part_9_edges = [part.edges().sort_by_distance(p)[0] for p in [
        (3.4925, 3.77, 7.5),
        (3.81, 3.4525, 7.5),
        (4.1275, 3.77, 7.5),
        (3.81, 4.0875, 7.5),
    ]]
    chamfer2_part_9_side = [part.faces().sort_by_distance(p)[0] for p in [
        (3.81, 3.77, 7.5),
    ]]
    chamfer(chamfer2_part_9_edges, length=CHAMFER2_PART_9_SIZE, length2=CHAMFER2_PART_9_SIZE2, reference=chamfer2_part_9_side[0])

    # Chamfer2 part 10
    chamfer2_part_10_edges = [part.edges().sort_by_distance(p)[0] for p in [
        (3.4925, 1.23, 7.5),
        (3.81, 0.9125, 7.5),
        (4.1275, 1.23, 7.5),
        (3.81, 1.5475, 7.5),
    ]]
    chamfer2_part_10_side = [part.faces().sort_by_distance(p)[0] for p in [
        (3.81, 1.23, 7.5),
    ]]
    chamfer(chamfer2_part_10_edges, length=CHAMFER2_PART_10_SIZE, length2=CHAMFER2_PART_10_SIZE2, reference=chamfer2_part_10_side[0])

    # Chamfer2 part 11
    chamfer2_part_11_edges = [part.edges().sort_by_distance(p)[0] for p in [
        (0.9525, 3.77, 7.5),
        (1.27, 3.4525, 7.5),
        (1.5875, 3.77, 7.5),
        (1.27, 4.0875, 7.5),
    ]]
    chamfer2_part_11_side = [part.faces().sort_by_distance(p)[0] for p in [
        (1.27, 3.77, 7.5),
    ]]
    chamfer(chamfer2_part_11_edges, length=CHAMFER2_PART_11_SIZE, length2=CHAMFER2_PART_11_SIZE2, reference=chamfer2_part_11_side[0])

    # Chamfer2 part 12
    chamfer2_part_12_edges = [part.edges().sort_by_distance(p)[0] for p in [
        (1.27, 0.9125, 7.5),
        (1.5875, 1.23, 7.5),
        (1.27, 1.5475, 7.5),
        (0.9525, 1.23, 7.5),
    ]]
    chamfer2_part_12_side = [part.faces().sort_by_distance(p)[0] for p in [
        (1.27, 1.23, 7.5),
    ]]
    chamfer(chamfer2_part_12_edges, length=CHAMFER2_PART_12_SIZE, length2=CHAMFER2_PART_12_SIZE2, reference=chamfer2_part_12_side[0])


solid = part.part
